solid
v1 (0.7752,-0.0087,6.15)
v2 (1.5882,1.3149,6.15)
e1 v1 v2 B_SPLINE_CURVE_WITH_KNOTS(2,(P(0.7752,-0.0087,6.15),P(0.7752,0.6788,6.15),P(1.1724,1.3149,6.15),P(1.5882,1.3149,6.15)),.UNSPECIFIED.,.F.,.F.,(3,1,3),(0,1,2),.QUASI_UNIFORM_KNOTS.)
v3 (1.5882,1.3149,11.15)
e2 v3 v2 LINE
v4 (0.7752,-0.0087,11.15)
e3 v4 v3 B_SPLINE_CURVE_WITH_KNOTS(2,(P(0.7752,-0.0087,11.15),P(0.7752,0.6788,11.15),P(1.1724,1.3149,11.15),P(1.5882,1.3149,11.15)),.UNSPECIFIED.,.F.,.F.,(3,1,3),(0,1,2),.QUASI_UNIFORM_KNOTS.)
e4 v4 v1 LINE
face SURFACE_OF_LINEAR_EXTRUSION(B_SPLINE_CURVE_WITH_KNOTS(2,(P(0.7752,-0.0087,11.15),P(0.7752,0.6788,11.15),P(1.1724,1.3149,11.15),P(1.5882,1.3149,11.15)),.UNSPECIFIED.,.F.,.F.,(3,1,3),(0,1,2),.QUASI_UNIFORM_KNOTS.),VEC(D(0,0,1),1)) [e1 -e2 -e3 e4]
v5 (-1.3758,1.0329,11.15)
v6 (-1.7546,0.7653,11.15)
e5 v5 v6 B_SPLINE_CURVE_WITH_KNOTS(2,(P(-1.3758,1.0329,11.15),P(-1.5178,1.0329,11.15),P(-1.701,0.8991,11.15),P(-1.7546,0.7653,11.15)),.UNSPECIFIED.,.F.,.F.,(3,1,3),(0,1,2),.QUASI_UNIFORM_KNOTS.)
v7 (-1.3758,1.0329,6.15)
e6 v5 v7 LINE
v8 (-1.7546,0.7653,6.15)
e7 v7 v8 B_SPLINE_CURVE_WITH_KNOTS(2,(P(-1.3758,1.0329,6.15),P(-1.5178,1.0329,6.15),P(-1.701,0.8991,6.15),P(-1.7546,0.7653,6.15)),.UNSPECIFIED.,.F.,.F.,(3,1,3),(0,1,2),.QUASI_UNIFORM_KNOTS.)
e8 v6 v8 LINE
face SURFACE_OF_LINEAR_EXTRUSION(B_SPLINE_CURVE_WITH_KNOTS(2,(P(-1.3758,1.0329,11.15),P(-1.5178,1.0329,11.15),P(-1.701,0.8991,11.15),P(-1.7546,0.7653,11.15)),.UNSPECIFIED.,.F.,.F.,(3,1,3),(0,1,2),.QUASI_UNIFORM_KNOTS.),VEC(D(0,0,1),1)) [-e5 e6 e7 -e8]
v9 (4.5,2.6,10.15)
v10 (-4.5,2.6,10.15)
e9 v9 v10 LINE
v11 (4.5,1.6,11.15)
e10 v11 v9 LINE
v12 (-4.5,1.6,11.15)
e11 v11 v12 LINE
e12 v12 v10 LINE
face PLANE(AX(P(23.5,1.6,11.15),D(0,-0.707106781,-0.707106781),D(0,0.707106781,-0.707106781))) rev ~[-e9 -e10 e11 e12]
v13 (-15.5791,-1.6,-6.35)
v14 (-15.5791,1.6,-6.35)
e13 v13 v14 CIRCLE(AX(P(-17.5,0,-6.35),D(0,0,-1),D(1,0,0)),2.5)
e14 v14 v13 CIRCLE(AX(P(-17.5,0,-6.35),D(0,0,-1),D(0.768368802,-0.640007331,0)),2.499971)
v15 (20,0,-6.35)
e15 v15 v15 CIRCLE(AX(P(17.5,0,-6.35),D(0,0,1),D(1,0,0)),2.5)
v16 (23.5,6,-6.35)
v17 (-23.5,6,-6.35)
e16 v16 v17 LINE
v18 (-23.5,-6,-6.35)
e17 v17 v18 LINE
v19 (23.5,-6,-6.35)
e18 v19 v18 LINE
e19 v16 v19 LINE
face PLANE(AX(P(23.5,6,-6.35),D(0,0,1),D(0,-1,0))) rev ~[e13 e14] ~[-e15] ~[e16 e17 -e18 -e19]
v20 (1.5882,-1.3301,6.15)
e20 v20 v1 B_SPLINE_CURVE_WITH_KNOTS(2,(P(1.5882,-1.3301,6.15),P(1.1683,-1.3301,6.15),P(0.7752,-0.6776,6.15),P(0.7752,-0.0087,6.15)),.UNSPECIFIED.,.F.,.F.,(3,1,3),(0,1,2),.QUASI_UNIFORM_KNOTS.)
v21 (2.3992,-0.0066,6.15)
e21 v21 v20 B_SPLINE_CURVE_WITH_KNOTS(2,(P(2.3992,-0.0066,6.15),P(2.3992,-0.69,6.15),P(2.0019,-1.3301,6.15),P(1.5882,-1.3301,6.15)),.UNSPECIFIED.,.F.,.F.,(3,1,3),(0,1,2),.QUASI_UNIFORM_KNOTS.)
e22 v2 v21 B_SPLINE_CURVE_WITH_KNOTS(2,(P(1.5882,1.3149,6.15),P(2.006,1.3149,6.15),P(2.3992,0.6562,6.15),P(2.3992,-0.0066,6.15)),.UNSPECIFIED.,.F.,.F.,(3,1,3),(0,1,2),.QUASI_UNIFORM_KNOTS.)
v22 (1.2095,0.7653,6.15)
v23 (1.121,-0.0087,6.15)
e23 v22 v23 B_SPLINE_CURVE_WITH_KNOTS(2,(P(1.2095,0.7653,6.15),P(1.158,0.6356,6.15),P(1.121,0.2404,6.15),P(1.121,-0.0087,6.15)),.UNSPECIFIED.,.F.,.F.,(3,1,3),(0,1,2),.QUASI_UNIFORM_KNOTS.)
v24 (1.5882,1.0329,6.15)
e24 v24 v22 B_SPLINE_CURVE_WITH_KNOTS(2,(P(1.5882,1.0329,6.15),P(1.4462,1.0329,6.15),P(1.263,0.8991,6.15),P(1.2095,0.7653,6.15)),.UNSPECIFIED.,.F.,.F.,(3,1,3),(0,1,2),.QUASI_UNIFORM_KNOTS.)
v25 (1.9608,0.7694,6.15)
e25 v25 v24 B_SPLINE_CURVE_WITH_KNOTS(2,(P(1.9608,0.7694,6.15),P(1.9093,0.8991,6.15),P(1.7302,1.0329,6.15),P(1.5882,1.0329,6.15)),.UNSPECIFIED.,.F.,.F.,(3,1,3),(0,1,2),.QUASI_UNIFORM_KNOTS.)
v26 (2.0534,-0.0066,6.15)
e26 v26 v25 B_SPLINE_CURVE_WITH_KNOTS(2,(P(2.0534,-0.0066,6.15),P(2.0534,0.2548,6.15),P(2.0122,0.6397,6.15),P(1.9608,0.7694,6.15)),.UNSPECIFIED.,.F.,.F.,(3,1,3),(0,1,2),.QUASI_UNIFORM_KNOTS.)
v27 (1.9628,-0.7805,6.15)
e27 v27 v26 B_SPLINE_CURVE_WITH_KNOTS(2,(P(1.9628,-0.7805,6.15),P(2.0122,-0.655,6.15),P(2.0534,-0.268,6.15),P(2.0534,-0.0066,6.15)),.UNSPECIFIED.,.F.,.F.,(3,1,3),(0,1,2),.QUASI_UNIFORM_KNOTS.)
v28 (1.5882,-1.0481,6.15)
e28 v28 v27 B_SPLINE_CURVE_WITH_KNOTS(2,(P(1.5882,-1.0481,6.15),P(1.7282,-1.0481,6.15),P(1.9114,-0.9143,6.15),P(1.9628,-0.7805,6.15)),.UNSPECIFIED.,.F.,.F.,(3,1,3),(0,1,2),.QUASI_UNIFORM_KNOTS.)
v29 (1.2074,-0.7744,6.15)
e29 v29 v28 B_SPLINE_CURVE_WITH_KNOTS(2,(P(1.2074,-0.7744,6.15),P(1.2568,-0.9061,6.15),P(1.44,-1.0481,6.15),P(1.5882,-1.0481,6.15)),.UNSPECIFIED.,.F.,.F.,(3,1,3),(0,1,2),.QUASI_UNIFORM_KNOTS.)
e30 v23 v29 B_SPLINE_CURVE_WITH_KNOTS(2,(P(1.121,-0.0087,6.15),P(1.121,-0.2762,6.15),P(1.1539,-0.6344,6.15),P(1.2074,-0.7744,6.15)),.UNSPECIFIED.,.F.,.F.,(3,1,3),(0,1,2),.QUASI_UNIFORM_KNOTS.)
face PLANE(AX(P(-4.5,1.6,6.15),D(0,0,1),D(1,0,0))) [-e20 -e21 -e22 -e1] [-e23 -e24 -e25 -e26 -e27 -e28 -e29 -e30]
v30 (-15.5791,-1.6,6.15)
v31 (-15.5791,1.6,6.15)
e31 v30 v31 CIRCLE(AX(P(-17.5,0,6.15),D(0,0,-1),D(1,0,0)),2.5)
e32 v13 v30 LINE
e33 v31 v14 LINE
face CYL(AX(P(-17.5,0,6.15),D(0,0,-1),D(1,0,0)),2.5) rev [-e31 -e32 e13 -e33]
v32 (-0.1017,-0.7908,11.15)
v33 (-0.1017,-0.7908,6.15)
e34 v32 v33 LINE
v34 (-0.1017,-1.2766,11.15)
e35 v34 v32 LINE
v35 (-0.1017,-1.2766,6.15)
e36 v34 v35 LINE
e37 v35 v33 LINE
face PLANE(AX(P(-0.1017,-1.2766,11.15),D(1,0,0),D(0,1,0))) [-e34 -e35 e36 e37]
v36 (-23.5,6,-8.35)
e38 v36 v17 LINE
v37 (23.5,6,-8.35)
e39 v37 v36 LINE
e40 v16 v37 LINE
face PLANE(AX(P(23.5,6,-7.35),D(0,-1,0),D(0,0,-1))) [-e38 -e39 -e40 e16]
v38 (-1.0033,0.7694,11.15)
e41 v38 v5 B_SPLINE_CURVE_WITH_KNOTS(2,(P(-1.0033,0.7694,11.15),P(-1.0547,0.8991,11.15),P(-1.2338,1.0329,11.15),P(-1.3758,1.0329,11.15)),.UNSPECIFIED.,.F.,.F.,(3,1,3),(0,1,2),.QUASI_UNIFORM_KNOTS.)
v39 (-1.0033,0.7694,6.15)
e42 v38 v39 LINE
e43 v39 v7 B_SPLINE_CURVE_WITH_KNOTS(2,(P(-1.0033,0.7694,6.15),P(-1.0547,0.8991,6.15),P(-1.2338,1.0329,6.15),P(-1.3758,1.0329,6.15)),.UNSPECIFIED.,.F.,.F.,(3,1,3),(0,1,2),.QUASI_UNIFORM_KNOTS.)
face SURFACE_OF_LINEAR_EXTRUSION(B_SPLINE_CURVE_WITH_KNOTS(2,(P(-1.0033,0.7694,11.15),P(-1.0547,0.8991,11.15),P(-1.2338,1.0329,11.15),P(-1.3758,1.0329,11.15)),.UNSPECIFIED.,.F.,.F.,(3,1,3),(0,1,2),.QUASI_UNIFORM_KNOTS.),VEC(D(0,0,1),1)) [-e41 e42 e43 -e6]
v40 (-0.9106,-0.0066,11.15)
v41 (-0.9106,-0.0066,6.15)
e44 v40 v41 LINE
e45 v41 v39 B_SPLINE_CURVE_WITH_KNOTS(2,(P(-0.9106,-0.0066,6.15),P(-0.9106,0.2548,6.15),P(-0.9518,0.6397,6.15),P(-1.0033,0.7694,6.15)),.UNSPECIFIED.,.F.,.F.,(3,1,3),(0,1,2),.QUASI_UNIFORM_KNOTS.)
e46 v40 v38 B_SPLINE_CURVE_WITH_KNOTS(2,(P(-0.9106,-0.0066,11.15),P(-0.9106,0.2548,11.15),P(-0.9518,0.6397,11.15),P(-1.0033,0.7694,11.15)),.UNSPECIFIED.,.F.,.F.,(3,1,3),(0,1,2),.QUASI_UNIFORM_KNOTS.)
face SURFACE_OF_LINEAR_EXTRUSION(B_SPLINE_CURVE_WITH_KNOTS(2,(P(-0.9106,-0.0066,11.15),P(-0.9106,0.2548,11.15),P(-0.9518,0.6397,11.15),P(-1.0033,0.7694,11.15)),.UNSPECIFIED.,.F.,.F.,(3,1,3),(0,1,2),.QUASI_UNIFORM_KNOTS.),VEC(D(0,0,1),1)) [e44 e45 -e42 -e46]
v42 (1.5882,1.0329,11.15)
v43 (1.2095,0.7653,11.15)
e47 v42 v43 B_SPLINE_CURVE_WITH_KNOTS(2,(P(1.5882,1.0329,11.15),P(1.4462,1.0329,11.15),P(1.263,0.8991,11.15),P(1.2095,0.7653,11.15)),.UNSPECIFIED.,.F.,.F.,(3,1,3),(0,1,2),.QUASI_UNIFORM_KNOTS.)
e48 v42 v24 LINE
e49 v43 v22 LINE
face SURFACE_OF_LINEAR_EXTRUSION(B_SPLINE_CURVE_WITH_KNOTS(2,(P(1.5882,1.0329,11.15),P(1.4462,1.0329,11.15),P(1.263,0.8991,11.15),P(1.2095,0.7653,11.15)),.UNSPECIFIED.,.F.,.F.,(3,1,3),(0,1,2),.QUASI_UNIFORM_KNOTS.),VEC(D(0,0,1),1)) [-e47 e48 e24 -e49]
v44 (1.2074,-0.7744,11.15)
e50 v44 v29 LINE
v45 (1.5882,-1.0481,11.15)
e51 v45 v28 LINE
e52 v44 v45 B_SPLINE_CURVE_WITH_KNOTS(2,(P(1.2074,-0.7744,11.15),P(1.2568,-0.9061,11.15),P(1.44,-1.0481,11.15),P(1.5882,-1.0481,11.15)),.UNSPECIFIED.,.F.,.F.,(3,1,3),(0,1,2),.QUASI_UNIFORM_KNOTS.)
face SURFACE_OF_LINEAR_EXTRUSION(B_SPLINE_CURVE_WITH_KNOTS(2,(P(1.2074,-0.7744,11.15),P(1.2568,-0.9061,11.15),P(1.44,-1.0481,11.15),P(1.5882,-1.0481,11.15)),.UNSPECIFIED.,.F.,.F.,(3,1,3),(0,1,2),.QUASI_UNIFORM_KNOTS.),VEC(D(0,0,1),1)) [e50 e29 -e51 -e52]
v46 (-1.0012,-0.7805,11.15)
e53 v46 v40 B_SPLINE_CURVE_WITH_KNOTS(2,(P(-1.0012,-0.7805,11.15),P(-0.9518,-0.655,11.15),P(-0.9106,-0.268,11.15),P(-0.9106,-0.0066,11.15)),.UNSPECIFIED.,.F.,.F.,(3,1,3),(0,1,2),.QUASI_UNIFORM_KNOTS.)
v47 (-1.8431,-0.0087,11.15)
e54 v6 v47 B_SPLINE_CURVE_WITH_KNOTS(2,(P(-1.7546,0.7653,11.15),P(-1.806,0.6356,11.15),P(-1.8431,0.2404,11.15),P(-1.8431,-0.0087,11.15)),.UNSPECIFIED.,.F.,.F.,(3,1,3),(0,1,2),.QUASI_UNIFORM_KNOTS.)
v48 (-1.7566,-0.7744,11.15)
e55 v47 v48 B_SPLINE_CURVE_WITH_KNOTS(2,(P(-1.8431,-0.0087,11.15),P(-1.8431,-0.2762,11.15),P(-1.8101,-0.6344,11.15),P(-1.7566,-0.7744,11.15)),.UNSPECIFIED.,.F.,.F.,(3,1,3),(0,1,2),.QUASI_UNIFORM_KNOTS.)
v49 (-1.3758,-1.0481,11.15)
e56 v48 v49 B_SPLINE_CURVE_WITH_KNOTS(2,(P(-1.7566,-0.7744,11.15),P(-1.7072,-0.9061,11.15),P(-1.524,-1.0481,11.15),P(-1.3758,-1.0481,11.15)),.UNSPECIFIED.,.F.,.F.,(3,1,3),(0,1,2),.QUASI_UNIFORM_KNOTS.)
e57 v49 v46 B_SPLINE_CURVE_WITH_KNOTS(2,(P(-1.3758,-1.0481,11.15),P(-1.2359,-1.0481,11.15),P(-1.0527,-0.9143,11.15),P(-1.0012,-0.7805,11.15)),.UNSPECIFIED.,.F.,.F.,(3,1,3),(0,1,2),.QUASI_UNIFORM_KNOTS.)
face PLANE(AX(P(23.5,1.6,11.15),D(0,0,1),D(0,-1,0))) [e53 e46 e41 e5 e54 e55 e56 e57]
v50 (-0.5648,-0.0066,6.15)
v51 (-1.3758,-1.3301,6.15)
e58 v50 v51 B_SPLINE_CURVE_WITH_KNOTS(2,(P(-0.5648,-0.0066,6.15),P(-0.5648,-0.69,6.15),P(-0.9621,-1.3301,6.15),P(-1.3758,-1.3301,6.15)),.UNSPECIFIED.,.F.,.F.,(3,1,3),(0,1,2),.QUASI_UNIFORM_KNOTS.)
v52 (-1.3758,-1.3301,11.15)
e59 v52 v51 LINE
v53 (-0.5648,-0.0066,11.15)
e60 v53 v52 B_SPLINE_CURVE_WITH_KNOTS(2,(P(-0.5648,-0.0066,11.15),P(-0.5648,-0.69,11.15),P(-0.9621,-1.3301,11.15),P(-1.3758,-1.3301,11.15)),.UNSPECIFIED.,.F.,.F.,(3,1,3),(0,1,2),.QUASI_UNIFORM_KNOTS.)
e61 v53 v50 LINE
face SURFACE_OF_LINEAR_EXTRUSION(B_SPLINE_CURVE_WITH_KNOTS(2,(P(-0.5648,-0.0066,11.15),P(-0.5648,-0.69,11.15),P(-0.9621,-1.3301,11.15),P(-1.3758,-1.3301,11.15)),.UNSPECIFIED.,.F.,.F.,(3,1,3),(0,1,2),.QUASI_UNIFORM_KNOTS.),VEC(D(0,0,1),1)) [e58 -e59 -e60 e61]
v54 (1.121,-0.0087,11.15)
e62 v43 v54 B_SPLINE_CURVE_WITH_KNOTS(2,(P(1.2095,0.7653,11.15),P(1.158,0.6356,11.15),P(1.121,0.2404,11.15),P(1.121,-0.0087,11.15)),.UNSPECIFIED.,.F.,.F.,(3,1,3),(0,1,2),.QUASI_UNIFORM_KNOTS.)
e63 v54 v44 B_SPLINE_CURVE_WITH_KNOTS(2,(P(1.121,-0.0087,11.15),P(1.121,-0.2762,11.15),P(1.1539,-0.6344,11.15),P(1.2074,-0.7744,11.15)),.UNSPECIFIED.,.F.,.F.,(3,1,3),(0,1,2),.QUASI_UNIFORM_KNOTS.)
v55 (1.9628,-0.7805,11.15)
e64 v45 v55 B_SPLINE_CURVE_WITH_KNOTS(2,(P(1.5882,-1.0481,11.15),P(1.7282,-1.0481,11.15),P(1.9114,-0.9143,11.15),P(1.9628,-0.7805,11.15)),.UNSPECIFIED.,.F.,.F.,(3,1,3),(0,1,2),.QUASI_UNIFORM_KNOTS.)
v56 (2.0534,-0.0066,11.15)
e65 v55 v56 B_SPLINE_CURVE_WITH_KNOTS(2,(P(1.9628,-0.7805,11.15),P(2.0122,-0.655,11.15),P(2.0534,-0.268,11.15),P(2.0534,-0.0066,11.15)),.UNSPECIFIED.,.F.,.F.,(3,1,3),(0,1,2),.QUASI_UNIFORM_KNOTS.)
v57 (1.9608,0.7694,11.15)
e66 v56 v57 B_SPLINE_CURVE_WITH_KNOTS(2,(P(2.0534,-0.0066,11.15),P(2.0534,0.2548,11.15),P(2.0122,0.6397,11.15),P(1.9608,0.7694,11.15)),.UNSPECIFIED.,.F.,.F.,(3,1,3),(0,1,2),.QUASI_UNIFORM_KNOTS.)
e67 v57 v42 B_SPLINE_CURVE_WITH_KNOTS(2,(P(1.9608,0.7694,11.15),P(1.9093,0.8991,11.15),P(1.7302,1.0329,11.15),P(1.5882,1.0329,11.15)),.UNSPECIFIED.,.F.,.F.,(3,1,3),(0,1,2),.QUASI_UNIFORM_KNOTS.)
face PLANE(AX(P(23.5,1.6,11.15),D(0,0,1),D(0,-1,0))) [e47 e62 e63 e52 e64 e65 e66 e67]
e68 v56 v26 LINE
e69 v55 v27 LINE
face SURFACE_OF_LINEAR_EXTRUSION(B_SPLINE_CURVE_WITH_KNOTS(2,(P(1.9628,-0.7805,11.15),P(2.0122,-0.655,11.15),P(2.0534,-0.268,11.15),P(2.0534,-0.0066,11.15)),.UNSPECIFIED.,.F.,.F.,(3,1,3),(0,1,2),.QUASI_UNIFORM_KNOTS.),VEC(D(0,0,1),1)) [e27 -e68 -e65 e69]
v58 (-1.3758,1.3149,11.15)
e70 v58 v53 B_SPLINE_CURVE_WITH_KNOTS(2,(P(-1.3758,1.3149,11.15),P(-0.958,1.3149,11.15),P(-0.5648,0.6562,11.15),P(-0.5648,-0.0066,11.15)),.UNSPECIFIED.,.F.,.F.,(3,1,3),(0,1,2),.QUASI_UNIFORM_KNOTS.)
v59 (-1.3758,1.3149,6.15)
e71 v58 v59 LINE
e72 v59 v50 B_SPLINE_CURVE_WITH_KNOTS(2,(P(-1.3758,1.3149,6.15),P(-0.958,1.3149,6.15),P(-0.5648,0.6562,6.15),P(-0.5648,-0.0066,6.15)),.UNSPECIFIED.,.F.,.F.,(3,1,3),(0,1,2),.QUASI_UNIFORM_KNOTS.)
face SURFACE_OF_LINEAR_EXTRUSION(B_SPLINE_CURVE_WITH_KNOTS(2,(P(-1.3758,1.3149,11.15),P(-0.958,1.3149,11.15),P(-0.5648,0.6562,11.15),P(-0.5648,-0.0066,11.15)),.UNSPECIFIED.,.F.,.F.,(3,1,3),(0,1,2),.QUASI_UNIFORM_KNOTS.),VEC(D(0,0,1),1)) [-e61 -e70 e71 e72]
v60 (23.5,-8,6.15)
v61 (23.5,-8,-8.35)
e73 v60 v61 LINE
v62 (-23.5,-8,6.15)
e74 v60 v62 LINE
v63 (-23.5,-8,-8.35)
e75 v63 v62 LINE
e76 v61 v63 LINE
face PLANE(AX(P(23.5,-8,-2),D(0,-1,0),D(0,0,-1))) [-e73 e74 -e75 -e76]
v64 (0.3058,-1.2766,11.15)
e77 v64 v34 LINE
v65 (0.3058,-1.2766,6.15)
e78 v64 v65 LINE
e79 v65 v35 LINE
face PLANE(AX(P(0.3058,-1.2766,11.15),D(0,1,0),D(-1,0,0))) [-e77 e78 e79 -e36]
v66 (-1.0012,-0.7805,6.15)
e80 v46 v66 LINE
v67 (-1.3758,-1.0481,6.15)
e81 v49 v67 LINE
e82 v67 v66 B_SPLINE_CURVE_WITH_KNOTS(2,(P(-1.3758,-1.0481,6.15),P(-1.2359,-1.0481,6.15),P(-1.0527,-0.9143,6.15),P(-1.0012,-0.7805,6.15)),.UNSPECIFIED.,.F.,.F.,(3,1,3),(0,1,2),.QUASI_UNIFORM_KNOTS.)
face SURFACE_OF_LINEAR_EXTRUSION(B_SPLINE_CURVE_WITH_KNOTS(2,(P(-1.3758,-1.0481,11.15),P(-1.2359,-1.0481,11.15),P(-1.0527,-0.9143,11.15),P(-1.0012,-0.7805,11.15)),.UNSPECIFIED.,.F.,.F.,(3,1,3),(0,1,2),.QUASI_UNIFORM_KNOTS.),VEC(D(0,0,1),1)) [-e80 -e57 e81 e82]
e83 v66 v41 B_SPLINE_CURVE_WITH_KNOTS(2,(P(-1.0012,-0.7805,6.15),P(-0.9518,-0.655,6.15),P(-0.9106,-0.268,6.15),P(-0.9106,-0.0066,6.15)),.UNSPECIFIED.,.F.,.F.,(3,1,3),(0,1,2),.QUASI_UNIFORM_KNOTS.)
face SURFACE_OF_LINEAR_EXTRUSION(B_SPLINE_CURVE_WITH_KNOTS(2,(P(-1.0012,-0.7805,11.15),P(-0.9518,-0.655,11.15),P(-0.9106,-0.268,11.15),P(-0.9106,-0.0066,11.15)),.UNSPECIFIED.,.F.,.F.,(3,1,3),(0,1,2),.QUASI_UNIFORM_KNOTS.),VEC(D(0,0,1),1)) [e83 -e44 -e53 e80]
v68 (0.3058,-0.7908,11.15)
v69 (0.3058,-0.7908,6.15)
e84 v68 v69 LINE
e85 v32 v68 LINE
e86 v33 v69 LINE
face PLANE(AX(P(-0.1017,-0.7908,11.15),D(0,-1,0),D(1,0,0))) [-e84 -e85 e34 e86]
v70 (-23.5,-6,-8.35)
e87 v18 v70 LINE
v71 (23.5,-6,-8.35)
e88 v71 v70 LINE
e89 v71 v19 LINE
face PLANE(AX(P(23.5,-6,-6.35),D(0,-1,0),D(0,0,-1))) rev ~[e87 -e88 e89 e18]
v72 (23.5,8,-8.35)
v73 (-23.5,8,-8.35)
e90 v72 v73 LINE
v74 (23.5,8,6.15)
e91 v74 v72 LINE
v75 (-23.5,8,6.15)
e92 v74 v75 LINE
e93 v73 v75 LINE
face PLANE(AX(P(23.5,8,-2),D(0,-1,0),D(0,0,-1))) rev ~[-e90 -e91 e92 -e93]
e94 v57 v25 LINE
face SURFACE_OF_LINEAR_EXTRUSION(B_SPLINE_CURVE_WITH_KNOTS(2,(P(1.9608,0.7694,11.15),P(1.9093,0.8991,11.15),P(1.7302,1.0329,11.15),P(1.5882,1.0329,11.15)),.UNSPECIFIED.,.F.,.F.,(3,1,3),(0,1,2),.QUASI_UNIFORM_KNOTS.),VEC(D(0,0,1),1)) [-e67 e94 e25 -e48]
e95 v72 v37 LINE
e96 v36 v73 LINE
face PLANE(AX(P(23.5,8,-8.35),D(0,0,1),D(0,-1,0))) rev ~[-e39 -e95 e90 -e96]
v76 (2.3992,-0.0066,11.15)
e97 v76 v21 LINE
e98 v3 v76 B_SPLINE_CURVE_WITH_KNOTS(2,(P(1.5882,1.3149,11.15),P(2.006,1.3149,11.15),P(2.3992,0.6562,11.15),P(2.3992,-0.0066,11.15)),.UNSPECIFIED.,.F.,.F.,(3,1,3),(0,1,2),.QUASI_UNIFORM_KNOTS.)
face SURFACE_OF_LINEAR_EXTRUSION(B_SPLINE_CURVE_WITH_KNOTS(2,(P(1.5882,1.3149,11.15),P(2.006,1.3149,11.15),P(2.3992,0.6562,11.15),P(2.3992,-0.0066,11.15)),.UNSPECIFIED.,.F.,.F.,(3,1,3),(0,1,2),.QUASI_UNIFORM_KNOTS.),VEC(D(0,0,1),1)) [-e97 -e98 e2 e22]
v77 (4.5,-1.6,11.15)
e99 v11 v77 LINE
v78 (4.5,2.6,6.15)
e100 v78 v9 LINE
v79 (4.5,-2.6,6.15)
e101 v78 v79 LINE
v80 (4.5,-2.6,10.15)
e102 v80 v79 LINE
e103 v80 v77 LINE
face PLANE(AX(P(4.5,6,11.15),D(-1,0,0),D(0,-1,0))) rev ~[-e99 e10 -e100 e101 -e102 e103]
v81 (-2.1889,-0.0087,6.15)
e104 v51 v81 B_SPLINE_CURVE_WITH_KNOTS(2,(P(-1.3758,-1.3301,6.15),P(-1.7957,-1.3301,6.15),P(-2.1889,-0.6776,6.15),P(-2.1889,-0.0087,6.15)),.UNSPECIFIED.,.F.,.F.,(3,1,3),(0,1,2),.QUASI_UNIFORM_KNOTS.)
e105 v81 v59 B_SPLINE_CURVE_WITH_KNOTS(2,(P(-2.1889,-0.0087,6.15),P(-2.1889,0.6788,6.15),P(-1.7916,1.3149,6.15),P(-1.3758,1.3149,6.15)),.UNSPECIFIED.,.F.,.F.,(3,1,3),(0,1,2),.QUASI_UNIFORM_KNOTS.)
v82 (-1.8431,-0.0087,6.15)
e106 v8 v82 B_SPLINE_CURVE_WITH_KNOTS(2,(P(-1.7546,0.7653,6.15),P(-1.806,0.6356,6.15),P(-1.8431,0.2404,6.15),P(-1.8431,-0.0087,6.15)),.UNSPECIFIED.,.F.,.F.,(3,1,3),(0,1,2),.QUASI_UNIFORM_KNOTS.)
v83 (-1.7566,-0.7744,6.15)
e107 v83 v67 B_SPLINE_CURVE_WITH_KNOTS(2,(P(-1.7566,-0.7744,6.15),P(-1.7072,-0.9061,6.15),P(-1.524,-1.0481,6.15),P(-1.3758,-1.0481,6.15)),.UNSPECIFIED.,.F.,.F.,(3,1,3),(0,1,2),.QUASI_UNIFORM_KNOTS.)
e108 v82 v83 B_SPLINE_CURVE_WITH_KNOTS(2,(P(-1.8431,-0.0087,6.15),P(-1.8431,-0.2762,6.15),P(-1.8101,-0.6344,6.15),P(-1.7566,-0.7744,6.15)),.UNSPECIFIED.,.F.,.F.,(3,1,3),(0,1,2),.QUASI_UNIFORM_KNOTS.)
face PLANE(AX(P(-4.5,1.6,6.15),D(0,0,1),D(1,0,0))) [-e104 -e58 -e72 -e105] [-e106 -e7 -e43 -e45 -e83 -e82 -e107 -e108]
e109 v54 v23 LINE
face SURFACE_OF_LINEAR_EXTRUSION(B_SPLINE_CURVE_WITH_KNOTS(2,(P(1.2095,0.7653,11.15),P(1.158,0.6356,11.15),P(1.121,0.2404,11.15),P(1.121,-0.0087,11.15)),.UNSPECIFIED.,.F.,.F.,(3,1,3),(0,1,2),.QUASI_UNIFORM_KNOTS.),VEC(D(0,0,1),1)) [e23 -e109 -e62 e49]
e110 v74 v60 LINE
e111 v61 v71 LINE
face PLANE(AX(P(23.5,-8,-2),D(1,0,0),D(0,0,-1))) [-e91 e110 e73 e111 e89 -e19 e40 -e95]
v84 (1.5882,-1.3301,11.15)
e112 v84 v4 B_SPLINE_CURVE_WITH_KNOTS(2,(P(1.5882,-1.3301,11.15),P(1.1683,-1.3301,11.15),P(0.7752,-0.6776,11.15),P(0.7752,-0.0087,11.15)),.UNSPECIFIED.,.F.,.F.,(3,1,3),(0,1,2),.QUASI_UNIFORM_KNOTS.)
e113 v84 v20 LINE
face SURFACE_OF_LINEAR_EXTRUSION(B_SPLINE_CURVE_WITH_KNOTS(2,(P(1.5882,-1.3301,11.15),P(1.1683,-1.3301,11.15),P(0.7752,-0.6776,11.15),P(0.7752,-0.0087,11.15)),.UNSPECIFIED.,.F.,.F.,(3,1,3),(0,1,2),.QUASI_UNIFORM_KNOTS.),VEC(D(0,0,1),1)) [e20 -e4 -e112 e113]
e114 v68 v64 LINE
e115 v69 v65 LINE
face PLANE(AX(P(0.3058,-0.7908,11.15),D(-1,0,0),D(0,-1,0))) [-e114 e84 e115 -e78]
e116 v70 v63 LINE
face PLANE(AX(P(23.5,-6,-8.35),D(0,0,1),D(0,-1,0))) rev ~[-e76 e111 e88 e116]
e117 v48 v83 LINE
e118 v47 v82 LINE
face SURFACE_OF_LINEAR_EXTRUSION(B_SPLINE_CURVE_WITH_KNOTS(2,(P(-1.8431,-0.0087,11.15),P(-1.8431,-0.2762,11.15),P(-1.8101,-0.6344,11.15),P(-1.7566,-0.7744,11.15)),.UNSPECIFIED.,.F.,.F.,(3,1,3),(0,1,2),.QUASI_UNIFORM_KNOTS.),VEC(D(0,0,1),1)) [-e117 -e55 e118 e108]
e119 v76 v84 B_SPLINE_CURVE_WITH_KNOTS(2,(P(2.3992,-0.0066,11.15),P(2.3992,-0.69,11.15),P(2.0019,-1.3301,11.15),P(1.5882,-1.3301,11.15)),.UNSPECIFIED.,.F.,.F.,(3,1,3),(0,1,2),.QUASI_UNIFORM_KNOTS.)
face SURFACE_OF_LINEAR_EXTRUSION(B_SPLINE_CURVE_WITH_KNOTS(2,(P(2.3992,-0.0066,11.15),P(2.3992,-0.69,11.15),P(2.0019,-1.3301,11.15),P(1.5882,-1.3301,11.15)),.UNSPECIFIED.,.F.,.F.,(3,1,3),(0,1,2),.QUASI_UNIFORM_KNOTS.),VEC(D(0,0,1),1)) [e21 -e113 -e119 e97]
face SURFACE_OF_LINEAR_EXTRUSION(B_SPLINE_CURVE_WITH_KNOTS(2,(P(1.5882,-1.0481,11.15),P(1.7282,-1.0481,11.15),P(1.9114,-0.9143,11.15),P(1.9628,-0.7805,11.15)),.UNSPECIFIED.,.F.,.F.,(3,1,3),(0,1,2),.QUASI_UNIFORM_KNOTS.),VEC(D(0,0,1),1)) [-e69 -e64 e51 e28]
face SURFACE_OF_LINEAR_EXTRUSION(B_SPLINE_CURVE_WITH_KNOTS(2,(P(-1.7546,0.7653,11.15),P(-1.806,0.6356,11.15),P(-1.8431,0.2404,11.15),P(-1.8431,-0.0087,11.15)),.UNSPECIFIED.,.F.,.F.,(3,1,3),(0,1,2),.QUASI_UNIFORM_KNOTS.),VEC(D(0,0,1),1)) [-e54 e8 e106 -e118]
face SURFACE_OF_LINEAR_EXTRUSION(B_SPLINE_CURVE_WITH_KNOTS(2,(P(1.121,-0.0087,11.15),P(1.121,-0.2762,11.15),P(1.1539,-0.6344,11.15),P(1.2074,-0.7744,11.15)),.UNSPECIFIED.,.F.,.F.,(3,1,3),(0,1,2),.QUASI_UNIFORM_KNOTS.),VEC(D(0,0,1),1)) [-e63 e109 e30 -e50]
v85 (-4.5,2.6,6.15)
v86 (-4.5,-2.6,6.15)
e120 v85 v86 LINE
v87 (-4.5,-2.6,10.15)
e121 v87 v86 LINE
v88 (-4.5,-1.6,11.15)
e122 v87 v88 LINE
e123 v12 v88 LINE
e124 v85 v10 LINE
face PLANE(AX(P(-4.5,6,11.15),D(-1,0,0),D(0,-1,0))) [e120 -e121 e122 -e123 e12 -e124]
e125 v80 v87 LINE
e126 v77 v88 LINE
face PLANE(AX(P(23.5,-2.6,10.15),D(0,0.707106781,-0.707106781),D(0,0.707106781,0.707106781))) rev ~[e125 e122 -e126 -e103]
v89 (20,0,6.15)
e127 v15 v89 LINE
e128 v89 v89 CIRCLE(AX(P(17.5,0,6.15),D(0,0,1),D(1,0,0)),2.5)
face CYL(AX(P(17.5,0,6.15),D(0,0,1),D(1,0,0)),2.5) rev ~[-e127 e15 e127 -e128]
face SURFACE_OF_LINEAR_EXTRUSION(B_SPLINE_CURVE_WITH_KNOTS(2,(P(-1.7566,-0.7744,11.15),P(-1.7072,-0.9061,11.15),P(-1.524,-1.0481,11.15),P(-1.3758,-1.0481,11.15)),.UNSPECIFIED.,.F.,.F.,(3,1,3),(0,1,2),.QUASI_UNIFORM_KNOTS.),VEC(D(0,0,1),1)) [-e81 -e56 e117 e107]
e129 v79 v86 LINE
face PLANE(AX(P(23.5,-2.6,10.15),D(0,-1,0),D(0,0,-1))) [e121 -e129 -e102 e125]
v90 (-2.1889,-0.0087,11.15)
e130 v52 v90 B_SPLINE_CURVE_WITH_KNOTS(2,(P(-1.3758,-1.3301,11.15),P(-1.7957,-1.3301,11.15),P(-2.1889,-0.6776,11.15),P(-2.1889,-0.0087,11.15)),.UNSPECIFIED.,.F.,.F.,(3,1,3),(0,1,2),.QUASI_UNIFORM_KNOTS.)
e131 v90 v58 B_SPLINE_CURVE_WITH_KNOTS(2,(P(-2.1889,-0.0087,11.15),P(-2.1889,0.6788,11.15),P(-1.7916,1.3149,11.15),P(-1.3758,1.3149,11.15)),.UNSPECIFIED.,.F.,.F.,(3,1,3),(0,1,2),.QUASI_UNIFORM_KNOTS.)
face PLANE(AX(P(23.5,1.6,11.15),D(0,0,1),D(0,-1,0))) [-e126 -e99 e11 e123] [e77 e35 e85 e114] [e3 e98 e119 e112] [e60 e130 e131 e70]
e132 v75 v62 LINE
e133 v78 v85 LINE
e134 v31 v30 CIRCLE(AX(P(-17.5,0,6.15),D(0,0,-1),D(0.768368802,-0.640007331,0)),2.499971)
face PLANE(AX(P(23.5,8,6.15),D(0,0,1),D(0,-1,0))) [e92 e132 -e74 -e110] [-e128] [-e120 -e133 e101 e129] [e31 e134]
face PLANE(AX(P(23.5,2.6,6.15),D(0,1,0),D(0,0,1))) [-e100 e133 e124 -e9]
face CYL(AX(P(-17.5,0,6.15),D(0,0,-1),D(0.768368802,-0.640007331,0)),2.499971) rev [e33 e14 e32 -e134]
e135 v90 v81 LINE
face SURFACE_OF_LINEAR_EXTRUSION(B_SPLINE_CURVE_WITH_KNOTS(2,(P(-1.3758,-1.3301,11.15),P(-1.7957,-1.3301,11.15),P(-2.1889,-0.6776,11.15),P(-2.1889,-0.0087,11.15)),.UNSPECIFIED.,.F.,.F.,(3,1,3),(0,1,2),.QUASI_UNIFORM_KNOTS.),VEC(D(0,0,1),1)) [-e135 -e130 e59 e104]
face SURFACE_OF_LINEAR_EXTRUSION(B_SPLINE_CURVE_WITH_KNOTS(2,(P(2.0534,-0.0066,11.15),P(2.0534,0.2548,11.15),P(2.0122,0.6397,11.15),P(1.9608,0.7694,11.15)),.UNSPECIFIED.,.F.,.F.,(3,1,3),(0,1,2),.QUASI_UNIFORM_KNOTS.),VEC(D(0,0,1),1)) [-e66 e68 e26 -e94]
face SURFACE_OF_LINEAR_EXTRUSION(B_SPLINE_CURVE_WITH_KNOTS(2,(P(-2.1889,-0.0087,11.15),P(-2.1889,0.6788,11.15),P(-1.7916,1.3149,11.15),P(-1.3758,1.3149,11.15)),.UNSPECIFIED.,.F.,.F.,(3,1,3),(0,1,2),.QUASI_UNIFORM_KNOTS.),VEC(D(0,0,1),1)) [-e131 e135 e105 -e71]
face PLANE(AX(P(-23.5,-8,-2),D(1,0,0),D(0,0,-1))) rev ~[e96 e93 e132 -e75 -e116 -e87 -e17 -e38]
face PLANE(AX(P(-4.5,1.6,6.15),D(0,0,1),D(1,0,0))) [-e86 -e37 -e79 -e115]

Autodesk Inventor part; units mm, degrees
ref_plane "YZ Plane" through (0, 0, 0) normal (1, 0, 0) x (0, 1, 0)
ref_plane "XZ Plane" through (0, 0, 0) normal (0, 1, 0) x (-1, 0, 0)
ref_plane "XY Plane" through (0, 0, 0) normal (0, 0, 1) x (1, 0, 0)
ref_plane "작업 평면1" through (23.5, -8, -2) normal (1, 0, 0) x (0, 0, -1)
sketch "스케치1" plane through (23.5, -8, -2) normal (1, 0, 0) x (0, 0, -1)
  line L0 (0, 16) -> (-8.15, 16) projected
  line L1 (-8.15, 16) -> (-8.15, 10.6) projected
  line L2 (-8.15, 10.6) -> (-12.15, 10.6) projected
  line L3 (-13.15, 9.6) -> (-12.15, 10.6) projected
  line L4 (-13.15, 9.6) -> (-13.15, 6.4) projected
  line L5 (-12.15, 5.4) -> (-13.15, 6.4) projected
  line L6 (-12.15, 5.4) -> (-8.15, 5.4) projected
  line L7 (-8.15, 5.4) -> (-8.15, 0) projected
  line L8 (-8.15, 0) -> (0, 0) projected
  line L9 (0, 16) -> (6.35, 16)
  line L10 (6.35, 16) -> (6.35, 15)
  line L11 (4.35, 14) -> (4.35, 2)
  line L12 (4.35, 14) -> (5.35, 14)
  line L13 (0, 0) -> (6.35, 0)
  line L14 (6.35, 0) -> (6.35, 1)
  line L15 (4.35, 2) -> (5.35, 2)
  line L16 (0, 16) -> (-8.15, 16)
  line L17 (-8.15, 10.6) -> (-12.15, 10.6) projected
  line L18 (-8.15, 10.6) -> (-12.15, 10.6)
  line L19 (-12.15, 10.6) -> (-13.15, 9.6)
  line L20 (-13.15, 6.4) -> (-12.15, 5.4)
  line L21 (5.35, 14) -> (6.35, 14)
  line L22 (6.35, 14) -> (6.35, 15)
  line L23 (5.35, 2) -> (6.35, 2)
  line L24 (6.35, 2) -> (6.35, 1)
  point P0 (-2, 8)
  dimension "d1" = 6.35
sketch "스케치2" plane through (-23.5, 8, 6.15) normal (0, 0, 1) x (1, 0, 0)
  arc A0 (7.9209, -9.6) -> (7.9209, -6.4) centre (6, -8) ccw projected
  line L0 (39.0791, -9.6) -> (7.9209, -9.6) projected
  circle A1 centre (6, -8) radius 2.5
  circle A2 centre (41, -8) radius 2.5 projected
  circle A3 centre (41, -8) radius 2.5
  point P0 (23.5, -8)
  point P1 (7.9209, -6.4)
extrude "돌출1" add sketch "스케치1" against normal up to surface (47 mm away)
extrude "돌출2" cut sketch "스케치2" along normal mid plane 50
sketch "스케치3" plane through (-15.5791, 1.6, 11.15) normal (0, 0, 1) x (1, 0, 0)
  line L0 (15.5791, -14.4593) -> (15.5791, 15.5737)
  line L1 (-7.9209, 4.4) -> (-7.9209, -7.6) projected
  line L2 (-7.9209, 4.4) -> (11.0791, 4.4)
  line L3 (11.0791, 4.4) -> (11.0791, -7.6)
  line L4 (11.0791, -7.6) -> (-7.9209, -7.6)
  line L5 (-7.9209, -7.6) -> (-7.9209, 4.4)
  line L6 (39.0791, 4.4) -> (39.0791, -7.6)
  line L7 (39.0791, 4.4) -> (20.0791, 4.4)
  line L8 (20.0791, 4.4) -> (20.0791, -7.6)
  line L9 (20.0791, -7.6) -> (39.0791, -7.6)
  line L10 (39.0791, -7.6) -> (39.0791, 4.4)
  point P0 (15.5791, -1.6)
  dimension "d9" = 19
extrude "돌출3" cut sketch "스케치3" against normal up to surface (5 mm away)
sketch "스케치4" plane through (-4.5, 1.6, 11.15) normal (0, 0, 1) x (1, 0, 0)
  line L0 (2.1691, -0.2851) -> (8.7999, -0.2851) construction
  line L1 (8.7999, -0.2851) -> (8.7999, -2.6545) construction
  line L2 (8.7999, -2.6545) -> (2.1691, -2.6545) construction
  line L3 (2.1691, -2.6545) -> (2.1691, -0.2851) construction
  spline S0 degree 2 poles (3.9352, -1.6066) (3.9352, -2.29) (3.5379, -2.9301) (3.1242, -2.9301) knots 0 0 0 1 2 2 2
  spline S1 degree 2 poles (3.1242, -2.9301) (2.7043, -2.9301) (2.3111, -2.2776) (2.3111, -1.6087) knots 0 0 0 1 2 2 2
  spline S2 degree 2 poles (2.3111, -1.6087) (2.3111, -0.9212) (2.7084, -0.2851) (3.1242, -0.2851) knots 0 0 0 1 2 2 2
  spline S3 degree 2 poles (3.1242, -0.2851) (3.542, -0.2851) (3.9352, -0.9438) (3.9352, -1.6066) knots 0 0 0 1 2 2 2
  spline S4 degree 2 poles (3.4988, -2.3805) (3.5482, -2.255) (3.5894, -1.868) (3.5894, -1.6066) knots 0 0 0 1 2 2 2
  spline S5 degree 2 poles (3.5894, -1.6066) (3.5894, -1.3452) (3.5482, -0.9603) (3.4967, -0.8306) knots 0 0 0 1 2 2 2
  spline S6 degree 2 poles (3.4967, -0.8306) (3.4453, -0.7009) (3.2662, -0.5671) (3.1242, -0.5671) knots 0 0 0 1 2 2 2
  spline S7 degree 2 poles (3.1242, -0.5671) (2.9822, -0.5671) (2.799, -0.7009) (2.7454, -0.8347) knots 0 0 0 1 2 2 2
  spline S8 degree 2 poles (2.7454, -0.8347) (2.694, -0.9644) (2.6569, -1.3596) (2.6569, -1.6087) knots 0 0 0 1 2 2 2
  spline S9 degree 2 poles (2.6569, -1.6087) (2.6569, -1.8762) (2.6899, -2.2344) (2.7434, -2.3744) knots 0 0 0 1 2 2 2
  spline S10 degree 2 poles (2.7434, -2.3744) (2.7928, -2.5061) (2.976, -2.6481) (3.1242, -2.6481) knots 0 0 0 1 2 2 2
  spline S11 degree 2 poles (3.1242, -2.6481) (3.2641, -2.6481) (3.4473, -2.5143) (3.4988, -2.3805) knots 0 0 0 1 2 2 2
  line L4 (4.8058, -2.8766) -> (4.3983, -2.8766)
  line L5 (4.3983, -2.8766) -> (4.3983, -2.3908)
  line L6 (4.3983, -2.3908) -> (4.8058, -2.3908)
  line L7 (4.8058, -2.3908) -> (4.8058, -2.8766)
  spline S12 degree 2 poles (6.8992, -1.6066) (6.8992, -2.29) (6.5019, -2.9301) (6.0882, -2.9301) knots 0 0 0 1 2 2 2
  spline S13 degree 2 poles (6.0882, -2.9301) (5.6683, -2.9301) (5.2752, -2.2776) (5.2752, -1.6087) knots 0 0 0 1 2 2 2
  spline S14 degree 2 poles (5.2752, -1.6087) (5.2752, -0.9212) (5.6724, -0.2851) (6.0882, -0.2851) knots 0 0 0 1 2 2 2
  spline S15 degree 2 poles (6.0882, -0.2851) (6.506, -0.2851) (6.8992, -0.9438) (6.8992, -1.6066) knots 0 0 0 1 2 2 2
  spline S16 degree 2 poles (6.4628, -2.3805) (6.5122, -2.255) (6.5534, -1.868) (6.5534, -1.6066) knots 0 0 0 1 2 2 2
  spline S17 degree 2 poles (6.5534, -1.6066) (6.5534, -1.3452) (6.5122, -0.9603) (6.4608, -0.8306) knots 0 0 0 1 2 2 2
  spline S18 degree 2 poles (6.4608, -0.8306) (6.4093, -0.7009) (6.2302, -0.5671) (6.0882, -0.5671) knots 0 0 0 1 2 2 2
  spline S19 degree 2 poles (6.0882, -0.5671) (5.9462, -0.5671) (5.763, -0.7009) (5.7095, -0.8347) knots 0 0 0 1 2 2 2
  spline S20 degree 2 poles (5.7095, -0.8347) (5.658, -0.9644) (5.621, -1.3596) (5.621, -1.6087) knots 0 0 0 1 2 2 2
  spline S21 degree 2 poles (5.621, -1.6087) (5.621, -1.8762) (5.6539, -2.2344) (5.7074, -2.3744) knots 0 0 0 1 2 2 2
  spline S22 degree 2 poles (5.7074, -2.3744) (5.7568, -2.5061) (5.94, -2.6481) (6.0882, -2.6481) knots 0 0 0 1 2 2 2
  spline S23 degree 2 poles (6.0882, -2.6481) (6.2282, -2.6481) (6.4114, -2.5143) (6.4628, -2.3805) knots 0 0 0 1 2 2 2
  point P0 (4.5, -1.6)
extrude "돌출4" cut sketch "스케치4" against normal blind 5
properties part number "Bearing Spacer_V2_0mm"
